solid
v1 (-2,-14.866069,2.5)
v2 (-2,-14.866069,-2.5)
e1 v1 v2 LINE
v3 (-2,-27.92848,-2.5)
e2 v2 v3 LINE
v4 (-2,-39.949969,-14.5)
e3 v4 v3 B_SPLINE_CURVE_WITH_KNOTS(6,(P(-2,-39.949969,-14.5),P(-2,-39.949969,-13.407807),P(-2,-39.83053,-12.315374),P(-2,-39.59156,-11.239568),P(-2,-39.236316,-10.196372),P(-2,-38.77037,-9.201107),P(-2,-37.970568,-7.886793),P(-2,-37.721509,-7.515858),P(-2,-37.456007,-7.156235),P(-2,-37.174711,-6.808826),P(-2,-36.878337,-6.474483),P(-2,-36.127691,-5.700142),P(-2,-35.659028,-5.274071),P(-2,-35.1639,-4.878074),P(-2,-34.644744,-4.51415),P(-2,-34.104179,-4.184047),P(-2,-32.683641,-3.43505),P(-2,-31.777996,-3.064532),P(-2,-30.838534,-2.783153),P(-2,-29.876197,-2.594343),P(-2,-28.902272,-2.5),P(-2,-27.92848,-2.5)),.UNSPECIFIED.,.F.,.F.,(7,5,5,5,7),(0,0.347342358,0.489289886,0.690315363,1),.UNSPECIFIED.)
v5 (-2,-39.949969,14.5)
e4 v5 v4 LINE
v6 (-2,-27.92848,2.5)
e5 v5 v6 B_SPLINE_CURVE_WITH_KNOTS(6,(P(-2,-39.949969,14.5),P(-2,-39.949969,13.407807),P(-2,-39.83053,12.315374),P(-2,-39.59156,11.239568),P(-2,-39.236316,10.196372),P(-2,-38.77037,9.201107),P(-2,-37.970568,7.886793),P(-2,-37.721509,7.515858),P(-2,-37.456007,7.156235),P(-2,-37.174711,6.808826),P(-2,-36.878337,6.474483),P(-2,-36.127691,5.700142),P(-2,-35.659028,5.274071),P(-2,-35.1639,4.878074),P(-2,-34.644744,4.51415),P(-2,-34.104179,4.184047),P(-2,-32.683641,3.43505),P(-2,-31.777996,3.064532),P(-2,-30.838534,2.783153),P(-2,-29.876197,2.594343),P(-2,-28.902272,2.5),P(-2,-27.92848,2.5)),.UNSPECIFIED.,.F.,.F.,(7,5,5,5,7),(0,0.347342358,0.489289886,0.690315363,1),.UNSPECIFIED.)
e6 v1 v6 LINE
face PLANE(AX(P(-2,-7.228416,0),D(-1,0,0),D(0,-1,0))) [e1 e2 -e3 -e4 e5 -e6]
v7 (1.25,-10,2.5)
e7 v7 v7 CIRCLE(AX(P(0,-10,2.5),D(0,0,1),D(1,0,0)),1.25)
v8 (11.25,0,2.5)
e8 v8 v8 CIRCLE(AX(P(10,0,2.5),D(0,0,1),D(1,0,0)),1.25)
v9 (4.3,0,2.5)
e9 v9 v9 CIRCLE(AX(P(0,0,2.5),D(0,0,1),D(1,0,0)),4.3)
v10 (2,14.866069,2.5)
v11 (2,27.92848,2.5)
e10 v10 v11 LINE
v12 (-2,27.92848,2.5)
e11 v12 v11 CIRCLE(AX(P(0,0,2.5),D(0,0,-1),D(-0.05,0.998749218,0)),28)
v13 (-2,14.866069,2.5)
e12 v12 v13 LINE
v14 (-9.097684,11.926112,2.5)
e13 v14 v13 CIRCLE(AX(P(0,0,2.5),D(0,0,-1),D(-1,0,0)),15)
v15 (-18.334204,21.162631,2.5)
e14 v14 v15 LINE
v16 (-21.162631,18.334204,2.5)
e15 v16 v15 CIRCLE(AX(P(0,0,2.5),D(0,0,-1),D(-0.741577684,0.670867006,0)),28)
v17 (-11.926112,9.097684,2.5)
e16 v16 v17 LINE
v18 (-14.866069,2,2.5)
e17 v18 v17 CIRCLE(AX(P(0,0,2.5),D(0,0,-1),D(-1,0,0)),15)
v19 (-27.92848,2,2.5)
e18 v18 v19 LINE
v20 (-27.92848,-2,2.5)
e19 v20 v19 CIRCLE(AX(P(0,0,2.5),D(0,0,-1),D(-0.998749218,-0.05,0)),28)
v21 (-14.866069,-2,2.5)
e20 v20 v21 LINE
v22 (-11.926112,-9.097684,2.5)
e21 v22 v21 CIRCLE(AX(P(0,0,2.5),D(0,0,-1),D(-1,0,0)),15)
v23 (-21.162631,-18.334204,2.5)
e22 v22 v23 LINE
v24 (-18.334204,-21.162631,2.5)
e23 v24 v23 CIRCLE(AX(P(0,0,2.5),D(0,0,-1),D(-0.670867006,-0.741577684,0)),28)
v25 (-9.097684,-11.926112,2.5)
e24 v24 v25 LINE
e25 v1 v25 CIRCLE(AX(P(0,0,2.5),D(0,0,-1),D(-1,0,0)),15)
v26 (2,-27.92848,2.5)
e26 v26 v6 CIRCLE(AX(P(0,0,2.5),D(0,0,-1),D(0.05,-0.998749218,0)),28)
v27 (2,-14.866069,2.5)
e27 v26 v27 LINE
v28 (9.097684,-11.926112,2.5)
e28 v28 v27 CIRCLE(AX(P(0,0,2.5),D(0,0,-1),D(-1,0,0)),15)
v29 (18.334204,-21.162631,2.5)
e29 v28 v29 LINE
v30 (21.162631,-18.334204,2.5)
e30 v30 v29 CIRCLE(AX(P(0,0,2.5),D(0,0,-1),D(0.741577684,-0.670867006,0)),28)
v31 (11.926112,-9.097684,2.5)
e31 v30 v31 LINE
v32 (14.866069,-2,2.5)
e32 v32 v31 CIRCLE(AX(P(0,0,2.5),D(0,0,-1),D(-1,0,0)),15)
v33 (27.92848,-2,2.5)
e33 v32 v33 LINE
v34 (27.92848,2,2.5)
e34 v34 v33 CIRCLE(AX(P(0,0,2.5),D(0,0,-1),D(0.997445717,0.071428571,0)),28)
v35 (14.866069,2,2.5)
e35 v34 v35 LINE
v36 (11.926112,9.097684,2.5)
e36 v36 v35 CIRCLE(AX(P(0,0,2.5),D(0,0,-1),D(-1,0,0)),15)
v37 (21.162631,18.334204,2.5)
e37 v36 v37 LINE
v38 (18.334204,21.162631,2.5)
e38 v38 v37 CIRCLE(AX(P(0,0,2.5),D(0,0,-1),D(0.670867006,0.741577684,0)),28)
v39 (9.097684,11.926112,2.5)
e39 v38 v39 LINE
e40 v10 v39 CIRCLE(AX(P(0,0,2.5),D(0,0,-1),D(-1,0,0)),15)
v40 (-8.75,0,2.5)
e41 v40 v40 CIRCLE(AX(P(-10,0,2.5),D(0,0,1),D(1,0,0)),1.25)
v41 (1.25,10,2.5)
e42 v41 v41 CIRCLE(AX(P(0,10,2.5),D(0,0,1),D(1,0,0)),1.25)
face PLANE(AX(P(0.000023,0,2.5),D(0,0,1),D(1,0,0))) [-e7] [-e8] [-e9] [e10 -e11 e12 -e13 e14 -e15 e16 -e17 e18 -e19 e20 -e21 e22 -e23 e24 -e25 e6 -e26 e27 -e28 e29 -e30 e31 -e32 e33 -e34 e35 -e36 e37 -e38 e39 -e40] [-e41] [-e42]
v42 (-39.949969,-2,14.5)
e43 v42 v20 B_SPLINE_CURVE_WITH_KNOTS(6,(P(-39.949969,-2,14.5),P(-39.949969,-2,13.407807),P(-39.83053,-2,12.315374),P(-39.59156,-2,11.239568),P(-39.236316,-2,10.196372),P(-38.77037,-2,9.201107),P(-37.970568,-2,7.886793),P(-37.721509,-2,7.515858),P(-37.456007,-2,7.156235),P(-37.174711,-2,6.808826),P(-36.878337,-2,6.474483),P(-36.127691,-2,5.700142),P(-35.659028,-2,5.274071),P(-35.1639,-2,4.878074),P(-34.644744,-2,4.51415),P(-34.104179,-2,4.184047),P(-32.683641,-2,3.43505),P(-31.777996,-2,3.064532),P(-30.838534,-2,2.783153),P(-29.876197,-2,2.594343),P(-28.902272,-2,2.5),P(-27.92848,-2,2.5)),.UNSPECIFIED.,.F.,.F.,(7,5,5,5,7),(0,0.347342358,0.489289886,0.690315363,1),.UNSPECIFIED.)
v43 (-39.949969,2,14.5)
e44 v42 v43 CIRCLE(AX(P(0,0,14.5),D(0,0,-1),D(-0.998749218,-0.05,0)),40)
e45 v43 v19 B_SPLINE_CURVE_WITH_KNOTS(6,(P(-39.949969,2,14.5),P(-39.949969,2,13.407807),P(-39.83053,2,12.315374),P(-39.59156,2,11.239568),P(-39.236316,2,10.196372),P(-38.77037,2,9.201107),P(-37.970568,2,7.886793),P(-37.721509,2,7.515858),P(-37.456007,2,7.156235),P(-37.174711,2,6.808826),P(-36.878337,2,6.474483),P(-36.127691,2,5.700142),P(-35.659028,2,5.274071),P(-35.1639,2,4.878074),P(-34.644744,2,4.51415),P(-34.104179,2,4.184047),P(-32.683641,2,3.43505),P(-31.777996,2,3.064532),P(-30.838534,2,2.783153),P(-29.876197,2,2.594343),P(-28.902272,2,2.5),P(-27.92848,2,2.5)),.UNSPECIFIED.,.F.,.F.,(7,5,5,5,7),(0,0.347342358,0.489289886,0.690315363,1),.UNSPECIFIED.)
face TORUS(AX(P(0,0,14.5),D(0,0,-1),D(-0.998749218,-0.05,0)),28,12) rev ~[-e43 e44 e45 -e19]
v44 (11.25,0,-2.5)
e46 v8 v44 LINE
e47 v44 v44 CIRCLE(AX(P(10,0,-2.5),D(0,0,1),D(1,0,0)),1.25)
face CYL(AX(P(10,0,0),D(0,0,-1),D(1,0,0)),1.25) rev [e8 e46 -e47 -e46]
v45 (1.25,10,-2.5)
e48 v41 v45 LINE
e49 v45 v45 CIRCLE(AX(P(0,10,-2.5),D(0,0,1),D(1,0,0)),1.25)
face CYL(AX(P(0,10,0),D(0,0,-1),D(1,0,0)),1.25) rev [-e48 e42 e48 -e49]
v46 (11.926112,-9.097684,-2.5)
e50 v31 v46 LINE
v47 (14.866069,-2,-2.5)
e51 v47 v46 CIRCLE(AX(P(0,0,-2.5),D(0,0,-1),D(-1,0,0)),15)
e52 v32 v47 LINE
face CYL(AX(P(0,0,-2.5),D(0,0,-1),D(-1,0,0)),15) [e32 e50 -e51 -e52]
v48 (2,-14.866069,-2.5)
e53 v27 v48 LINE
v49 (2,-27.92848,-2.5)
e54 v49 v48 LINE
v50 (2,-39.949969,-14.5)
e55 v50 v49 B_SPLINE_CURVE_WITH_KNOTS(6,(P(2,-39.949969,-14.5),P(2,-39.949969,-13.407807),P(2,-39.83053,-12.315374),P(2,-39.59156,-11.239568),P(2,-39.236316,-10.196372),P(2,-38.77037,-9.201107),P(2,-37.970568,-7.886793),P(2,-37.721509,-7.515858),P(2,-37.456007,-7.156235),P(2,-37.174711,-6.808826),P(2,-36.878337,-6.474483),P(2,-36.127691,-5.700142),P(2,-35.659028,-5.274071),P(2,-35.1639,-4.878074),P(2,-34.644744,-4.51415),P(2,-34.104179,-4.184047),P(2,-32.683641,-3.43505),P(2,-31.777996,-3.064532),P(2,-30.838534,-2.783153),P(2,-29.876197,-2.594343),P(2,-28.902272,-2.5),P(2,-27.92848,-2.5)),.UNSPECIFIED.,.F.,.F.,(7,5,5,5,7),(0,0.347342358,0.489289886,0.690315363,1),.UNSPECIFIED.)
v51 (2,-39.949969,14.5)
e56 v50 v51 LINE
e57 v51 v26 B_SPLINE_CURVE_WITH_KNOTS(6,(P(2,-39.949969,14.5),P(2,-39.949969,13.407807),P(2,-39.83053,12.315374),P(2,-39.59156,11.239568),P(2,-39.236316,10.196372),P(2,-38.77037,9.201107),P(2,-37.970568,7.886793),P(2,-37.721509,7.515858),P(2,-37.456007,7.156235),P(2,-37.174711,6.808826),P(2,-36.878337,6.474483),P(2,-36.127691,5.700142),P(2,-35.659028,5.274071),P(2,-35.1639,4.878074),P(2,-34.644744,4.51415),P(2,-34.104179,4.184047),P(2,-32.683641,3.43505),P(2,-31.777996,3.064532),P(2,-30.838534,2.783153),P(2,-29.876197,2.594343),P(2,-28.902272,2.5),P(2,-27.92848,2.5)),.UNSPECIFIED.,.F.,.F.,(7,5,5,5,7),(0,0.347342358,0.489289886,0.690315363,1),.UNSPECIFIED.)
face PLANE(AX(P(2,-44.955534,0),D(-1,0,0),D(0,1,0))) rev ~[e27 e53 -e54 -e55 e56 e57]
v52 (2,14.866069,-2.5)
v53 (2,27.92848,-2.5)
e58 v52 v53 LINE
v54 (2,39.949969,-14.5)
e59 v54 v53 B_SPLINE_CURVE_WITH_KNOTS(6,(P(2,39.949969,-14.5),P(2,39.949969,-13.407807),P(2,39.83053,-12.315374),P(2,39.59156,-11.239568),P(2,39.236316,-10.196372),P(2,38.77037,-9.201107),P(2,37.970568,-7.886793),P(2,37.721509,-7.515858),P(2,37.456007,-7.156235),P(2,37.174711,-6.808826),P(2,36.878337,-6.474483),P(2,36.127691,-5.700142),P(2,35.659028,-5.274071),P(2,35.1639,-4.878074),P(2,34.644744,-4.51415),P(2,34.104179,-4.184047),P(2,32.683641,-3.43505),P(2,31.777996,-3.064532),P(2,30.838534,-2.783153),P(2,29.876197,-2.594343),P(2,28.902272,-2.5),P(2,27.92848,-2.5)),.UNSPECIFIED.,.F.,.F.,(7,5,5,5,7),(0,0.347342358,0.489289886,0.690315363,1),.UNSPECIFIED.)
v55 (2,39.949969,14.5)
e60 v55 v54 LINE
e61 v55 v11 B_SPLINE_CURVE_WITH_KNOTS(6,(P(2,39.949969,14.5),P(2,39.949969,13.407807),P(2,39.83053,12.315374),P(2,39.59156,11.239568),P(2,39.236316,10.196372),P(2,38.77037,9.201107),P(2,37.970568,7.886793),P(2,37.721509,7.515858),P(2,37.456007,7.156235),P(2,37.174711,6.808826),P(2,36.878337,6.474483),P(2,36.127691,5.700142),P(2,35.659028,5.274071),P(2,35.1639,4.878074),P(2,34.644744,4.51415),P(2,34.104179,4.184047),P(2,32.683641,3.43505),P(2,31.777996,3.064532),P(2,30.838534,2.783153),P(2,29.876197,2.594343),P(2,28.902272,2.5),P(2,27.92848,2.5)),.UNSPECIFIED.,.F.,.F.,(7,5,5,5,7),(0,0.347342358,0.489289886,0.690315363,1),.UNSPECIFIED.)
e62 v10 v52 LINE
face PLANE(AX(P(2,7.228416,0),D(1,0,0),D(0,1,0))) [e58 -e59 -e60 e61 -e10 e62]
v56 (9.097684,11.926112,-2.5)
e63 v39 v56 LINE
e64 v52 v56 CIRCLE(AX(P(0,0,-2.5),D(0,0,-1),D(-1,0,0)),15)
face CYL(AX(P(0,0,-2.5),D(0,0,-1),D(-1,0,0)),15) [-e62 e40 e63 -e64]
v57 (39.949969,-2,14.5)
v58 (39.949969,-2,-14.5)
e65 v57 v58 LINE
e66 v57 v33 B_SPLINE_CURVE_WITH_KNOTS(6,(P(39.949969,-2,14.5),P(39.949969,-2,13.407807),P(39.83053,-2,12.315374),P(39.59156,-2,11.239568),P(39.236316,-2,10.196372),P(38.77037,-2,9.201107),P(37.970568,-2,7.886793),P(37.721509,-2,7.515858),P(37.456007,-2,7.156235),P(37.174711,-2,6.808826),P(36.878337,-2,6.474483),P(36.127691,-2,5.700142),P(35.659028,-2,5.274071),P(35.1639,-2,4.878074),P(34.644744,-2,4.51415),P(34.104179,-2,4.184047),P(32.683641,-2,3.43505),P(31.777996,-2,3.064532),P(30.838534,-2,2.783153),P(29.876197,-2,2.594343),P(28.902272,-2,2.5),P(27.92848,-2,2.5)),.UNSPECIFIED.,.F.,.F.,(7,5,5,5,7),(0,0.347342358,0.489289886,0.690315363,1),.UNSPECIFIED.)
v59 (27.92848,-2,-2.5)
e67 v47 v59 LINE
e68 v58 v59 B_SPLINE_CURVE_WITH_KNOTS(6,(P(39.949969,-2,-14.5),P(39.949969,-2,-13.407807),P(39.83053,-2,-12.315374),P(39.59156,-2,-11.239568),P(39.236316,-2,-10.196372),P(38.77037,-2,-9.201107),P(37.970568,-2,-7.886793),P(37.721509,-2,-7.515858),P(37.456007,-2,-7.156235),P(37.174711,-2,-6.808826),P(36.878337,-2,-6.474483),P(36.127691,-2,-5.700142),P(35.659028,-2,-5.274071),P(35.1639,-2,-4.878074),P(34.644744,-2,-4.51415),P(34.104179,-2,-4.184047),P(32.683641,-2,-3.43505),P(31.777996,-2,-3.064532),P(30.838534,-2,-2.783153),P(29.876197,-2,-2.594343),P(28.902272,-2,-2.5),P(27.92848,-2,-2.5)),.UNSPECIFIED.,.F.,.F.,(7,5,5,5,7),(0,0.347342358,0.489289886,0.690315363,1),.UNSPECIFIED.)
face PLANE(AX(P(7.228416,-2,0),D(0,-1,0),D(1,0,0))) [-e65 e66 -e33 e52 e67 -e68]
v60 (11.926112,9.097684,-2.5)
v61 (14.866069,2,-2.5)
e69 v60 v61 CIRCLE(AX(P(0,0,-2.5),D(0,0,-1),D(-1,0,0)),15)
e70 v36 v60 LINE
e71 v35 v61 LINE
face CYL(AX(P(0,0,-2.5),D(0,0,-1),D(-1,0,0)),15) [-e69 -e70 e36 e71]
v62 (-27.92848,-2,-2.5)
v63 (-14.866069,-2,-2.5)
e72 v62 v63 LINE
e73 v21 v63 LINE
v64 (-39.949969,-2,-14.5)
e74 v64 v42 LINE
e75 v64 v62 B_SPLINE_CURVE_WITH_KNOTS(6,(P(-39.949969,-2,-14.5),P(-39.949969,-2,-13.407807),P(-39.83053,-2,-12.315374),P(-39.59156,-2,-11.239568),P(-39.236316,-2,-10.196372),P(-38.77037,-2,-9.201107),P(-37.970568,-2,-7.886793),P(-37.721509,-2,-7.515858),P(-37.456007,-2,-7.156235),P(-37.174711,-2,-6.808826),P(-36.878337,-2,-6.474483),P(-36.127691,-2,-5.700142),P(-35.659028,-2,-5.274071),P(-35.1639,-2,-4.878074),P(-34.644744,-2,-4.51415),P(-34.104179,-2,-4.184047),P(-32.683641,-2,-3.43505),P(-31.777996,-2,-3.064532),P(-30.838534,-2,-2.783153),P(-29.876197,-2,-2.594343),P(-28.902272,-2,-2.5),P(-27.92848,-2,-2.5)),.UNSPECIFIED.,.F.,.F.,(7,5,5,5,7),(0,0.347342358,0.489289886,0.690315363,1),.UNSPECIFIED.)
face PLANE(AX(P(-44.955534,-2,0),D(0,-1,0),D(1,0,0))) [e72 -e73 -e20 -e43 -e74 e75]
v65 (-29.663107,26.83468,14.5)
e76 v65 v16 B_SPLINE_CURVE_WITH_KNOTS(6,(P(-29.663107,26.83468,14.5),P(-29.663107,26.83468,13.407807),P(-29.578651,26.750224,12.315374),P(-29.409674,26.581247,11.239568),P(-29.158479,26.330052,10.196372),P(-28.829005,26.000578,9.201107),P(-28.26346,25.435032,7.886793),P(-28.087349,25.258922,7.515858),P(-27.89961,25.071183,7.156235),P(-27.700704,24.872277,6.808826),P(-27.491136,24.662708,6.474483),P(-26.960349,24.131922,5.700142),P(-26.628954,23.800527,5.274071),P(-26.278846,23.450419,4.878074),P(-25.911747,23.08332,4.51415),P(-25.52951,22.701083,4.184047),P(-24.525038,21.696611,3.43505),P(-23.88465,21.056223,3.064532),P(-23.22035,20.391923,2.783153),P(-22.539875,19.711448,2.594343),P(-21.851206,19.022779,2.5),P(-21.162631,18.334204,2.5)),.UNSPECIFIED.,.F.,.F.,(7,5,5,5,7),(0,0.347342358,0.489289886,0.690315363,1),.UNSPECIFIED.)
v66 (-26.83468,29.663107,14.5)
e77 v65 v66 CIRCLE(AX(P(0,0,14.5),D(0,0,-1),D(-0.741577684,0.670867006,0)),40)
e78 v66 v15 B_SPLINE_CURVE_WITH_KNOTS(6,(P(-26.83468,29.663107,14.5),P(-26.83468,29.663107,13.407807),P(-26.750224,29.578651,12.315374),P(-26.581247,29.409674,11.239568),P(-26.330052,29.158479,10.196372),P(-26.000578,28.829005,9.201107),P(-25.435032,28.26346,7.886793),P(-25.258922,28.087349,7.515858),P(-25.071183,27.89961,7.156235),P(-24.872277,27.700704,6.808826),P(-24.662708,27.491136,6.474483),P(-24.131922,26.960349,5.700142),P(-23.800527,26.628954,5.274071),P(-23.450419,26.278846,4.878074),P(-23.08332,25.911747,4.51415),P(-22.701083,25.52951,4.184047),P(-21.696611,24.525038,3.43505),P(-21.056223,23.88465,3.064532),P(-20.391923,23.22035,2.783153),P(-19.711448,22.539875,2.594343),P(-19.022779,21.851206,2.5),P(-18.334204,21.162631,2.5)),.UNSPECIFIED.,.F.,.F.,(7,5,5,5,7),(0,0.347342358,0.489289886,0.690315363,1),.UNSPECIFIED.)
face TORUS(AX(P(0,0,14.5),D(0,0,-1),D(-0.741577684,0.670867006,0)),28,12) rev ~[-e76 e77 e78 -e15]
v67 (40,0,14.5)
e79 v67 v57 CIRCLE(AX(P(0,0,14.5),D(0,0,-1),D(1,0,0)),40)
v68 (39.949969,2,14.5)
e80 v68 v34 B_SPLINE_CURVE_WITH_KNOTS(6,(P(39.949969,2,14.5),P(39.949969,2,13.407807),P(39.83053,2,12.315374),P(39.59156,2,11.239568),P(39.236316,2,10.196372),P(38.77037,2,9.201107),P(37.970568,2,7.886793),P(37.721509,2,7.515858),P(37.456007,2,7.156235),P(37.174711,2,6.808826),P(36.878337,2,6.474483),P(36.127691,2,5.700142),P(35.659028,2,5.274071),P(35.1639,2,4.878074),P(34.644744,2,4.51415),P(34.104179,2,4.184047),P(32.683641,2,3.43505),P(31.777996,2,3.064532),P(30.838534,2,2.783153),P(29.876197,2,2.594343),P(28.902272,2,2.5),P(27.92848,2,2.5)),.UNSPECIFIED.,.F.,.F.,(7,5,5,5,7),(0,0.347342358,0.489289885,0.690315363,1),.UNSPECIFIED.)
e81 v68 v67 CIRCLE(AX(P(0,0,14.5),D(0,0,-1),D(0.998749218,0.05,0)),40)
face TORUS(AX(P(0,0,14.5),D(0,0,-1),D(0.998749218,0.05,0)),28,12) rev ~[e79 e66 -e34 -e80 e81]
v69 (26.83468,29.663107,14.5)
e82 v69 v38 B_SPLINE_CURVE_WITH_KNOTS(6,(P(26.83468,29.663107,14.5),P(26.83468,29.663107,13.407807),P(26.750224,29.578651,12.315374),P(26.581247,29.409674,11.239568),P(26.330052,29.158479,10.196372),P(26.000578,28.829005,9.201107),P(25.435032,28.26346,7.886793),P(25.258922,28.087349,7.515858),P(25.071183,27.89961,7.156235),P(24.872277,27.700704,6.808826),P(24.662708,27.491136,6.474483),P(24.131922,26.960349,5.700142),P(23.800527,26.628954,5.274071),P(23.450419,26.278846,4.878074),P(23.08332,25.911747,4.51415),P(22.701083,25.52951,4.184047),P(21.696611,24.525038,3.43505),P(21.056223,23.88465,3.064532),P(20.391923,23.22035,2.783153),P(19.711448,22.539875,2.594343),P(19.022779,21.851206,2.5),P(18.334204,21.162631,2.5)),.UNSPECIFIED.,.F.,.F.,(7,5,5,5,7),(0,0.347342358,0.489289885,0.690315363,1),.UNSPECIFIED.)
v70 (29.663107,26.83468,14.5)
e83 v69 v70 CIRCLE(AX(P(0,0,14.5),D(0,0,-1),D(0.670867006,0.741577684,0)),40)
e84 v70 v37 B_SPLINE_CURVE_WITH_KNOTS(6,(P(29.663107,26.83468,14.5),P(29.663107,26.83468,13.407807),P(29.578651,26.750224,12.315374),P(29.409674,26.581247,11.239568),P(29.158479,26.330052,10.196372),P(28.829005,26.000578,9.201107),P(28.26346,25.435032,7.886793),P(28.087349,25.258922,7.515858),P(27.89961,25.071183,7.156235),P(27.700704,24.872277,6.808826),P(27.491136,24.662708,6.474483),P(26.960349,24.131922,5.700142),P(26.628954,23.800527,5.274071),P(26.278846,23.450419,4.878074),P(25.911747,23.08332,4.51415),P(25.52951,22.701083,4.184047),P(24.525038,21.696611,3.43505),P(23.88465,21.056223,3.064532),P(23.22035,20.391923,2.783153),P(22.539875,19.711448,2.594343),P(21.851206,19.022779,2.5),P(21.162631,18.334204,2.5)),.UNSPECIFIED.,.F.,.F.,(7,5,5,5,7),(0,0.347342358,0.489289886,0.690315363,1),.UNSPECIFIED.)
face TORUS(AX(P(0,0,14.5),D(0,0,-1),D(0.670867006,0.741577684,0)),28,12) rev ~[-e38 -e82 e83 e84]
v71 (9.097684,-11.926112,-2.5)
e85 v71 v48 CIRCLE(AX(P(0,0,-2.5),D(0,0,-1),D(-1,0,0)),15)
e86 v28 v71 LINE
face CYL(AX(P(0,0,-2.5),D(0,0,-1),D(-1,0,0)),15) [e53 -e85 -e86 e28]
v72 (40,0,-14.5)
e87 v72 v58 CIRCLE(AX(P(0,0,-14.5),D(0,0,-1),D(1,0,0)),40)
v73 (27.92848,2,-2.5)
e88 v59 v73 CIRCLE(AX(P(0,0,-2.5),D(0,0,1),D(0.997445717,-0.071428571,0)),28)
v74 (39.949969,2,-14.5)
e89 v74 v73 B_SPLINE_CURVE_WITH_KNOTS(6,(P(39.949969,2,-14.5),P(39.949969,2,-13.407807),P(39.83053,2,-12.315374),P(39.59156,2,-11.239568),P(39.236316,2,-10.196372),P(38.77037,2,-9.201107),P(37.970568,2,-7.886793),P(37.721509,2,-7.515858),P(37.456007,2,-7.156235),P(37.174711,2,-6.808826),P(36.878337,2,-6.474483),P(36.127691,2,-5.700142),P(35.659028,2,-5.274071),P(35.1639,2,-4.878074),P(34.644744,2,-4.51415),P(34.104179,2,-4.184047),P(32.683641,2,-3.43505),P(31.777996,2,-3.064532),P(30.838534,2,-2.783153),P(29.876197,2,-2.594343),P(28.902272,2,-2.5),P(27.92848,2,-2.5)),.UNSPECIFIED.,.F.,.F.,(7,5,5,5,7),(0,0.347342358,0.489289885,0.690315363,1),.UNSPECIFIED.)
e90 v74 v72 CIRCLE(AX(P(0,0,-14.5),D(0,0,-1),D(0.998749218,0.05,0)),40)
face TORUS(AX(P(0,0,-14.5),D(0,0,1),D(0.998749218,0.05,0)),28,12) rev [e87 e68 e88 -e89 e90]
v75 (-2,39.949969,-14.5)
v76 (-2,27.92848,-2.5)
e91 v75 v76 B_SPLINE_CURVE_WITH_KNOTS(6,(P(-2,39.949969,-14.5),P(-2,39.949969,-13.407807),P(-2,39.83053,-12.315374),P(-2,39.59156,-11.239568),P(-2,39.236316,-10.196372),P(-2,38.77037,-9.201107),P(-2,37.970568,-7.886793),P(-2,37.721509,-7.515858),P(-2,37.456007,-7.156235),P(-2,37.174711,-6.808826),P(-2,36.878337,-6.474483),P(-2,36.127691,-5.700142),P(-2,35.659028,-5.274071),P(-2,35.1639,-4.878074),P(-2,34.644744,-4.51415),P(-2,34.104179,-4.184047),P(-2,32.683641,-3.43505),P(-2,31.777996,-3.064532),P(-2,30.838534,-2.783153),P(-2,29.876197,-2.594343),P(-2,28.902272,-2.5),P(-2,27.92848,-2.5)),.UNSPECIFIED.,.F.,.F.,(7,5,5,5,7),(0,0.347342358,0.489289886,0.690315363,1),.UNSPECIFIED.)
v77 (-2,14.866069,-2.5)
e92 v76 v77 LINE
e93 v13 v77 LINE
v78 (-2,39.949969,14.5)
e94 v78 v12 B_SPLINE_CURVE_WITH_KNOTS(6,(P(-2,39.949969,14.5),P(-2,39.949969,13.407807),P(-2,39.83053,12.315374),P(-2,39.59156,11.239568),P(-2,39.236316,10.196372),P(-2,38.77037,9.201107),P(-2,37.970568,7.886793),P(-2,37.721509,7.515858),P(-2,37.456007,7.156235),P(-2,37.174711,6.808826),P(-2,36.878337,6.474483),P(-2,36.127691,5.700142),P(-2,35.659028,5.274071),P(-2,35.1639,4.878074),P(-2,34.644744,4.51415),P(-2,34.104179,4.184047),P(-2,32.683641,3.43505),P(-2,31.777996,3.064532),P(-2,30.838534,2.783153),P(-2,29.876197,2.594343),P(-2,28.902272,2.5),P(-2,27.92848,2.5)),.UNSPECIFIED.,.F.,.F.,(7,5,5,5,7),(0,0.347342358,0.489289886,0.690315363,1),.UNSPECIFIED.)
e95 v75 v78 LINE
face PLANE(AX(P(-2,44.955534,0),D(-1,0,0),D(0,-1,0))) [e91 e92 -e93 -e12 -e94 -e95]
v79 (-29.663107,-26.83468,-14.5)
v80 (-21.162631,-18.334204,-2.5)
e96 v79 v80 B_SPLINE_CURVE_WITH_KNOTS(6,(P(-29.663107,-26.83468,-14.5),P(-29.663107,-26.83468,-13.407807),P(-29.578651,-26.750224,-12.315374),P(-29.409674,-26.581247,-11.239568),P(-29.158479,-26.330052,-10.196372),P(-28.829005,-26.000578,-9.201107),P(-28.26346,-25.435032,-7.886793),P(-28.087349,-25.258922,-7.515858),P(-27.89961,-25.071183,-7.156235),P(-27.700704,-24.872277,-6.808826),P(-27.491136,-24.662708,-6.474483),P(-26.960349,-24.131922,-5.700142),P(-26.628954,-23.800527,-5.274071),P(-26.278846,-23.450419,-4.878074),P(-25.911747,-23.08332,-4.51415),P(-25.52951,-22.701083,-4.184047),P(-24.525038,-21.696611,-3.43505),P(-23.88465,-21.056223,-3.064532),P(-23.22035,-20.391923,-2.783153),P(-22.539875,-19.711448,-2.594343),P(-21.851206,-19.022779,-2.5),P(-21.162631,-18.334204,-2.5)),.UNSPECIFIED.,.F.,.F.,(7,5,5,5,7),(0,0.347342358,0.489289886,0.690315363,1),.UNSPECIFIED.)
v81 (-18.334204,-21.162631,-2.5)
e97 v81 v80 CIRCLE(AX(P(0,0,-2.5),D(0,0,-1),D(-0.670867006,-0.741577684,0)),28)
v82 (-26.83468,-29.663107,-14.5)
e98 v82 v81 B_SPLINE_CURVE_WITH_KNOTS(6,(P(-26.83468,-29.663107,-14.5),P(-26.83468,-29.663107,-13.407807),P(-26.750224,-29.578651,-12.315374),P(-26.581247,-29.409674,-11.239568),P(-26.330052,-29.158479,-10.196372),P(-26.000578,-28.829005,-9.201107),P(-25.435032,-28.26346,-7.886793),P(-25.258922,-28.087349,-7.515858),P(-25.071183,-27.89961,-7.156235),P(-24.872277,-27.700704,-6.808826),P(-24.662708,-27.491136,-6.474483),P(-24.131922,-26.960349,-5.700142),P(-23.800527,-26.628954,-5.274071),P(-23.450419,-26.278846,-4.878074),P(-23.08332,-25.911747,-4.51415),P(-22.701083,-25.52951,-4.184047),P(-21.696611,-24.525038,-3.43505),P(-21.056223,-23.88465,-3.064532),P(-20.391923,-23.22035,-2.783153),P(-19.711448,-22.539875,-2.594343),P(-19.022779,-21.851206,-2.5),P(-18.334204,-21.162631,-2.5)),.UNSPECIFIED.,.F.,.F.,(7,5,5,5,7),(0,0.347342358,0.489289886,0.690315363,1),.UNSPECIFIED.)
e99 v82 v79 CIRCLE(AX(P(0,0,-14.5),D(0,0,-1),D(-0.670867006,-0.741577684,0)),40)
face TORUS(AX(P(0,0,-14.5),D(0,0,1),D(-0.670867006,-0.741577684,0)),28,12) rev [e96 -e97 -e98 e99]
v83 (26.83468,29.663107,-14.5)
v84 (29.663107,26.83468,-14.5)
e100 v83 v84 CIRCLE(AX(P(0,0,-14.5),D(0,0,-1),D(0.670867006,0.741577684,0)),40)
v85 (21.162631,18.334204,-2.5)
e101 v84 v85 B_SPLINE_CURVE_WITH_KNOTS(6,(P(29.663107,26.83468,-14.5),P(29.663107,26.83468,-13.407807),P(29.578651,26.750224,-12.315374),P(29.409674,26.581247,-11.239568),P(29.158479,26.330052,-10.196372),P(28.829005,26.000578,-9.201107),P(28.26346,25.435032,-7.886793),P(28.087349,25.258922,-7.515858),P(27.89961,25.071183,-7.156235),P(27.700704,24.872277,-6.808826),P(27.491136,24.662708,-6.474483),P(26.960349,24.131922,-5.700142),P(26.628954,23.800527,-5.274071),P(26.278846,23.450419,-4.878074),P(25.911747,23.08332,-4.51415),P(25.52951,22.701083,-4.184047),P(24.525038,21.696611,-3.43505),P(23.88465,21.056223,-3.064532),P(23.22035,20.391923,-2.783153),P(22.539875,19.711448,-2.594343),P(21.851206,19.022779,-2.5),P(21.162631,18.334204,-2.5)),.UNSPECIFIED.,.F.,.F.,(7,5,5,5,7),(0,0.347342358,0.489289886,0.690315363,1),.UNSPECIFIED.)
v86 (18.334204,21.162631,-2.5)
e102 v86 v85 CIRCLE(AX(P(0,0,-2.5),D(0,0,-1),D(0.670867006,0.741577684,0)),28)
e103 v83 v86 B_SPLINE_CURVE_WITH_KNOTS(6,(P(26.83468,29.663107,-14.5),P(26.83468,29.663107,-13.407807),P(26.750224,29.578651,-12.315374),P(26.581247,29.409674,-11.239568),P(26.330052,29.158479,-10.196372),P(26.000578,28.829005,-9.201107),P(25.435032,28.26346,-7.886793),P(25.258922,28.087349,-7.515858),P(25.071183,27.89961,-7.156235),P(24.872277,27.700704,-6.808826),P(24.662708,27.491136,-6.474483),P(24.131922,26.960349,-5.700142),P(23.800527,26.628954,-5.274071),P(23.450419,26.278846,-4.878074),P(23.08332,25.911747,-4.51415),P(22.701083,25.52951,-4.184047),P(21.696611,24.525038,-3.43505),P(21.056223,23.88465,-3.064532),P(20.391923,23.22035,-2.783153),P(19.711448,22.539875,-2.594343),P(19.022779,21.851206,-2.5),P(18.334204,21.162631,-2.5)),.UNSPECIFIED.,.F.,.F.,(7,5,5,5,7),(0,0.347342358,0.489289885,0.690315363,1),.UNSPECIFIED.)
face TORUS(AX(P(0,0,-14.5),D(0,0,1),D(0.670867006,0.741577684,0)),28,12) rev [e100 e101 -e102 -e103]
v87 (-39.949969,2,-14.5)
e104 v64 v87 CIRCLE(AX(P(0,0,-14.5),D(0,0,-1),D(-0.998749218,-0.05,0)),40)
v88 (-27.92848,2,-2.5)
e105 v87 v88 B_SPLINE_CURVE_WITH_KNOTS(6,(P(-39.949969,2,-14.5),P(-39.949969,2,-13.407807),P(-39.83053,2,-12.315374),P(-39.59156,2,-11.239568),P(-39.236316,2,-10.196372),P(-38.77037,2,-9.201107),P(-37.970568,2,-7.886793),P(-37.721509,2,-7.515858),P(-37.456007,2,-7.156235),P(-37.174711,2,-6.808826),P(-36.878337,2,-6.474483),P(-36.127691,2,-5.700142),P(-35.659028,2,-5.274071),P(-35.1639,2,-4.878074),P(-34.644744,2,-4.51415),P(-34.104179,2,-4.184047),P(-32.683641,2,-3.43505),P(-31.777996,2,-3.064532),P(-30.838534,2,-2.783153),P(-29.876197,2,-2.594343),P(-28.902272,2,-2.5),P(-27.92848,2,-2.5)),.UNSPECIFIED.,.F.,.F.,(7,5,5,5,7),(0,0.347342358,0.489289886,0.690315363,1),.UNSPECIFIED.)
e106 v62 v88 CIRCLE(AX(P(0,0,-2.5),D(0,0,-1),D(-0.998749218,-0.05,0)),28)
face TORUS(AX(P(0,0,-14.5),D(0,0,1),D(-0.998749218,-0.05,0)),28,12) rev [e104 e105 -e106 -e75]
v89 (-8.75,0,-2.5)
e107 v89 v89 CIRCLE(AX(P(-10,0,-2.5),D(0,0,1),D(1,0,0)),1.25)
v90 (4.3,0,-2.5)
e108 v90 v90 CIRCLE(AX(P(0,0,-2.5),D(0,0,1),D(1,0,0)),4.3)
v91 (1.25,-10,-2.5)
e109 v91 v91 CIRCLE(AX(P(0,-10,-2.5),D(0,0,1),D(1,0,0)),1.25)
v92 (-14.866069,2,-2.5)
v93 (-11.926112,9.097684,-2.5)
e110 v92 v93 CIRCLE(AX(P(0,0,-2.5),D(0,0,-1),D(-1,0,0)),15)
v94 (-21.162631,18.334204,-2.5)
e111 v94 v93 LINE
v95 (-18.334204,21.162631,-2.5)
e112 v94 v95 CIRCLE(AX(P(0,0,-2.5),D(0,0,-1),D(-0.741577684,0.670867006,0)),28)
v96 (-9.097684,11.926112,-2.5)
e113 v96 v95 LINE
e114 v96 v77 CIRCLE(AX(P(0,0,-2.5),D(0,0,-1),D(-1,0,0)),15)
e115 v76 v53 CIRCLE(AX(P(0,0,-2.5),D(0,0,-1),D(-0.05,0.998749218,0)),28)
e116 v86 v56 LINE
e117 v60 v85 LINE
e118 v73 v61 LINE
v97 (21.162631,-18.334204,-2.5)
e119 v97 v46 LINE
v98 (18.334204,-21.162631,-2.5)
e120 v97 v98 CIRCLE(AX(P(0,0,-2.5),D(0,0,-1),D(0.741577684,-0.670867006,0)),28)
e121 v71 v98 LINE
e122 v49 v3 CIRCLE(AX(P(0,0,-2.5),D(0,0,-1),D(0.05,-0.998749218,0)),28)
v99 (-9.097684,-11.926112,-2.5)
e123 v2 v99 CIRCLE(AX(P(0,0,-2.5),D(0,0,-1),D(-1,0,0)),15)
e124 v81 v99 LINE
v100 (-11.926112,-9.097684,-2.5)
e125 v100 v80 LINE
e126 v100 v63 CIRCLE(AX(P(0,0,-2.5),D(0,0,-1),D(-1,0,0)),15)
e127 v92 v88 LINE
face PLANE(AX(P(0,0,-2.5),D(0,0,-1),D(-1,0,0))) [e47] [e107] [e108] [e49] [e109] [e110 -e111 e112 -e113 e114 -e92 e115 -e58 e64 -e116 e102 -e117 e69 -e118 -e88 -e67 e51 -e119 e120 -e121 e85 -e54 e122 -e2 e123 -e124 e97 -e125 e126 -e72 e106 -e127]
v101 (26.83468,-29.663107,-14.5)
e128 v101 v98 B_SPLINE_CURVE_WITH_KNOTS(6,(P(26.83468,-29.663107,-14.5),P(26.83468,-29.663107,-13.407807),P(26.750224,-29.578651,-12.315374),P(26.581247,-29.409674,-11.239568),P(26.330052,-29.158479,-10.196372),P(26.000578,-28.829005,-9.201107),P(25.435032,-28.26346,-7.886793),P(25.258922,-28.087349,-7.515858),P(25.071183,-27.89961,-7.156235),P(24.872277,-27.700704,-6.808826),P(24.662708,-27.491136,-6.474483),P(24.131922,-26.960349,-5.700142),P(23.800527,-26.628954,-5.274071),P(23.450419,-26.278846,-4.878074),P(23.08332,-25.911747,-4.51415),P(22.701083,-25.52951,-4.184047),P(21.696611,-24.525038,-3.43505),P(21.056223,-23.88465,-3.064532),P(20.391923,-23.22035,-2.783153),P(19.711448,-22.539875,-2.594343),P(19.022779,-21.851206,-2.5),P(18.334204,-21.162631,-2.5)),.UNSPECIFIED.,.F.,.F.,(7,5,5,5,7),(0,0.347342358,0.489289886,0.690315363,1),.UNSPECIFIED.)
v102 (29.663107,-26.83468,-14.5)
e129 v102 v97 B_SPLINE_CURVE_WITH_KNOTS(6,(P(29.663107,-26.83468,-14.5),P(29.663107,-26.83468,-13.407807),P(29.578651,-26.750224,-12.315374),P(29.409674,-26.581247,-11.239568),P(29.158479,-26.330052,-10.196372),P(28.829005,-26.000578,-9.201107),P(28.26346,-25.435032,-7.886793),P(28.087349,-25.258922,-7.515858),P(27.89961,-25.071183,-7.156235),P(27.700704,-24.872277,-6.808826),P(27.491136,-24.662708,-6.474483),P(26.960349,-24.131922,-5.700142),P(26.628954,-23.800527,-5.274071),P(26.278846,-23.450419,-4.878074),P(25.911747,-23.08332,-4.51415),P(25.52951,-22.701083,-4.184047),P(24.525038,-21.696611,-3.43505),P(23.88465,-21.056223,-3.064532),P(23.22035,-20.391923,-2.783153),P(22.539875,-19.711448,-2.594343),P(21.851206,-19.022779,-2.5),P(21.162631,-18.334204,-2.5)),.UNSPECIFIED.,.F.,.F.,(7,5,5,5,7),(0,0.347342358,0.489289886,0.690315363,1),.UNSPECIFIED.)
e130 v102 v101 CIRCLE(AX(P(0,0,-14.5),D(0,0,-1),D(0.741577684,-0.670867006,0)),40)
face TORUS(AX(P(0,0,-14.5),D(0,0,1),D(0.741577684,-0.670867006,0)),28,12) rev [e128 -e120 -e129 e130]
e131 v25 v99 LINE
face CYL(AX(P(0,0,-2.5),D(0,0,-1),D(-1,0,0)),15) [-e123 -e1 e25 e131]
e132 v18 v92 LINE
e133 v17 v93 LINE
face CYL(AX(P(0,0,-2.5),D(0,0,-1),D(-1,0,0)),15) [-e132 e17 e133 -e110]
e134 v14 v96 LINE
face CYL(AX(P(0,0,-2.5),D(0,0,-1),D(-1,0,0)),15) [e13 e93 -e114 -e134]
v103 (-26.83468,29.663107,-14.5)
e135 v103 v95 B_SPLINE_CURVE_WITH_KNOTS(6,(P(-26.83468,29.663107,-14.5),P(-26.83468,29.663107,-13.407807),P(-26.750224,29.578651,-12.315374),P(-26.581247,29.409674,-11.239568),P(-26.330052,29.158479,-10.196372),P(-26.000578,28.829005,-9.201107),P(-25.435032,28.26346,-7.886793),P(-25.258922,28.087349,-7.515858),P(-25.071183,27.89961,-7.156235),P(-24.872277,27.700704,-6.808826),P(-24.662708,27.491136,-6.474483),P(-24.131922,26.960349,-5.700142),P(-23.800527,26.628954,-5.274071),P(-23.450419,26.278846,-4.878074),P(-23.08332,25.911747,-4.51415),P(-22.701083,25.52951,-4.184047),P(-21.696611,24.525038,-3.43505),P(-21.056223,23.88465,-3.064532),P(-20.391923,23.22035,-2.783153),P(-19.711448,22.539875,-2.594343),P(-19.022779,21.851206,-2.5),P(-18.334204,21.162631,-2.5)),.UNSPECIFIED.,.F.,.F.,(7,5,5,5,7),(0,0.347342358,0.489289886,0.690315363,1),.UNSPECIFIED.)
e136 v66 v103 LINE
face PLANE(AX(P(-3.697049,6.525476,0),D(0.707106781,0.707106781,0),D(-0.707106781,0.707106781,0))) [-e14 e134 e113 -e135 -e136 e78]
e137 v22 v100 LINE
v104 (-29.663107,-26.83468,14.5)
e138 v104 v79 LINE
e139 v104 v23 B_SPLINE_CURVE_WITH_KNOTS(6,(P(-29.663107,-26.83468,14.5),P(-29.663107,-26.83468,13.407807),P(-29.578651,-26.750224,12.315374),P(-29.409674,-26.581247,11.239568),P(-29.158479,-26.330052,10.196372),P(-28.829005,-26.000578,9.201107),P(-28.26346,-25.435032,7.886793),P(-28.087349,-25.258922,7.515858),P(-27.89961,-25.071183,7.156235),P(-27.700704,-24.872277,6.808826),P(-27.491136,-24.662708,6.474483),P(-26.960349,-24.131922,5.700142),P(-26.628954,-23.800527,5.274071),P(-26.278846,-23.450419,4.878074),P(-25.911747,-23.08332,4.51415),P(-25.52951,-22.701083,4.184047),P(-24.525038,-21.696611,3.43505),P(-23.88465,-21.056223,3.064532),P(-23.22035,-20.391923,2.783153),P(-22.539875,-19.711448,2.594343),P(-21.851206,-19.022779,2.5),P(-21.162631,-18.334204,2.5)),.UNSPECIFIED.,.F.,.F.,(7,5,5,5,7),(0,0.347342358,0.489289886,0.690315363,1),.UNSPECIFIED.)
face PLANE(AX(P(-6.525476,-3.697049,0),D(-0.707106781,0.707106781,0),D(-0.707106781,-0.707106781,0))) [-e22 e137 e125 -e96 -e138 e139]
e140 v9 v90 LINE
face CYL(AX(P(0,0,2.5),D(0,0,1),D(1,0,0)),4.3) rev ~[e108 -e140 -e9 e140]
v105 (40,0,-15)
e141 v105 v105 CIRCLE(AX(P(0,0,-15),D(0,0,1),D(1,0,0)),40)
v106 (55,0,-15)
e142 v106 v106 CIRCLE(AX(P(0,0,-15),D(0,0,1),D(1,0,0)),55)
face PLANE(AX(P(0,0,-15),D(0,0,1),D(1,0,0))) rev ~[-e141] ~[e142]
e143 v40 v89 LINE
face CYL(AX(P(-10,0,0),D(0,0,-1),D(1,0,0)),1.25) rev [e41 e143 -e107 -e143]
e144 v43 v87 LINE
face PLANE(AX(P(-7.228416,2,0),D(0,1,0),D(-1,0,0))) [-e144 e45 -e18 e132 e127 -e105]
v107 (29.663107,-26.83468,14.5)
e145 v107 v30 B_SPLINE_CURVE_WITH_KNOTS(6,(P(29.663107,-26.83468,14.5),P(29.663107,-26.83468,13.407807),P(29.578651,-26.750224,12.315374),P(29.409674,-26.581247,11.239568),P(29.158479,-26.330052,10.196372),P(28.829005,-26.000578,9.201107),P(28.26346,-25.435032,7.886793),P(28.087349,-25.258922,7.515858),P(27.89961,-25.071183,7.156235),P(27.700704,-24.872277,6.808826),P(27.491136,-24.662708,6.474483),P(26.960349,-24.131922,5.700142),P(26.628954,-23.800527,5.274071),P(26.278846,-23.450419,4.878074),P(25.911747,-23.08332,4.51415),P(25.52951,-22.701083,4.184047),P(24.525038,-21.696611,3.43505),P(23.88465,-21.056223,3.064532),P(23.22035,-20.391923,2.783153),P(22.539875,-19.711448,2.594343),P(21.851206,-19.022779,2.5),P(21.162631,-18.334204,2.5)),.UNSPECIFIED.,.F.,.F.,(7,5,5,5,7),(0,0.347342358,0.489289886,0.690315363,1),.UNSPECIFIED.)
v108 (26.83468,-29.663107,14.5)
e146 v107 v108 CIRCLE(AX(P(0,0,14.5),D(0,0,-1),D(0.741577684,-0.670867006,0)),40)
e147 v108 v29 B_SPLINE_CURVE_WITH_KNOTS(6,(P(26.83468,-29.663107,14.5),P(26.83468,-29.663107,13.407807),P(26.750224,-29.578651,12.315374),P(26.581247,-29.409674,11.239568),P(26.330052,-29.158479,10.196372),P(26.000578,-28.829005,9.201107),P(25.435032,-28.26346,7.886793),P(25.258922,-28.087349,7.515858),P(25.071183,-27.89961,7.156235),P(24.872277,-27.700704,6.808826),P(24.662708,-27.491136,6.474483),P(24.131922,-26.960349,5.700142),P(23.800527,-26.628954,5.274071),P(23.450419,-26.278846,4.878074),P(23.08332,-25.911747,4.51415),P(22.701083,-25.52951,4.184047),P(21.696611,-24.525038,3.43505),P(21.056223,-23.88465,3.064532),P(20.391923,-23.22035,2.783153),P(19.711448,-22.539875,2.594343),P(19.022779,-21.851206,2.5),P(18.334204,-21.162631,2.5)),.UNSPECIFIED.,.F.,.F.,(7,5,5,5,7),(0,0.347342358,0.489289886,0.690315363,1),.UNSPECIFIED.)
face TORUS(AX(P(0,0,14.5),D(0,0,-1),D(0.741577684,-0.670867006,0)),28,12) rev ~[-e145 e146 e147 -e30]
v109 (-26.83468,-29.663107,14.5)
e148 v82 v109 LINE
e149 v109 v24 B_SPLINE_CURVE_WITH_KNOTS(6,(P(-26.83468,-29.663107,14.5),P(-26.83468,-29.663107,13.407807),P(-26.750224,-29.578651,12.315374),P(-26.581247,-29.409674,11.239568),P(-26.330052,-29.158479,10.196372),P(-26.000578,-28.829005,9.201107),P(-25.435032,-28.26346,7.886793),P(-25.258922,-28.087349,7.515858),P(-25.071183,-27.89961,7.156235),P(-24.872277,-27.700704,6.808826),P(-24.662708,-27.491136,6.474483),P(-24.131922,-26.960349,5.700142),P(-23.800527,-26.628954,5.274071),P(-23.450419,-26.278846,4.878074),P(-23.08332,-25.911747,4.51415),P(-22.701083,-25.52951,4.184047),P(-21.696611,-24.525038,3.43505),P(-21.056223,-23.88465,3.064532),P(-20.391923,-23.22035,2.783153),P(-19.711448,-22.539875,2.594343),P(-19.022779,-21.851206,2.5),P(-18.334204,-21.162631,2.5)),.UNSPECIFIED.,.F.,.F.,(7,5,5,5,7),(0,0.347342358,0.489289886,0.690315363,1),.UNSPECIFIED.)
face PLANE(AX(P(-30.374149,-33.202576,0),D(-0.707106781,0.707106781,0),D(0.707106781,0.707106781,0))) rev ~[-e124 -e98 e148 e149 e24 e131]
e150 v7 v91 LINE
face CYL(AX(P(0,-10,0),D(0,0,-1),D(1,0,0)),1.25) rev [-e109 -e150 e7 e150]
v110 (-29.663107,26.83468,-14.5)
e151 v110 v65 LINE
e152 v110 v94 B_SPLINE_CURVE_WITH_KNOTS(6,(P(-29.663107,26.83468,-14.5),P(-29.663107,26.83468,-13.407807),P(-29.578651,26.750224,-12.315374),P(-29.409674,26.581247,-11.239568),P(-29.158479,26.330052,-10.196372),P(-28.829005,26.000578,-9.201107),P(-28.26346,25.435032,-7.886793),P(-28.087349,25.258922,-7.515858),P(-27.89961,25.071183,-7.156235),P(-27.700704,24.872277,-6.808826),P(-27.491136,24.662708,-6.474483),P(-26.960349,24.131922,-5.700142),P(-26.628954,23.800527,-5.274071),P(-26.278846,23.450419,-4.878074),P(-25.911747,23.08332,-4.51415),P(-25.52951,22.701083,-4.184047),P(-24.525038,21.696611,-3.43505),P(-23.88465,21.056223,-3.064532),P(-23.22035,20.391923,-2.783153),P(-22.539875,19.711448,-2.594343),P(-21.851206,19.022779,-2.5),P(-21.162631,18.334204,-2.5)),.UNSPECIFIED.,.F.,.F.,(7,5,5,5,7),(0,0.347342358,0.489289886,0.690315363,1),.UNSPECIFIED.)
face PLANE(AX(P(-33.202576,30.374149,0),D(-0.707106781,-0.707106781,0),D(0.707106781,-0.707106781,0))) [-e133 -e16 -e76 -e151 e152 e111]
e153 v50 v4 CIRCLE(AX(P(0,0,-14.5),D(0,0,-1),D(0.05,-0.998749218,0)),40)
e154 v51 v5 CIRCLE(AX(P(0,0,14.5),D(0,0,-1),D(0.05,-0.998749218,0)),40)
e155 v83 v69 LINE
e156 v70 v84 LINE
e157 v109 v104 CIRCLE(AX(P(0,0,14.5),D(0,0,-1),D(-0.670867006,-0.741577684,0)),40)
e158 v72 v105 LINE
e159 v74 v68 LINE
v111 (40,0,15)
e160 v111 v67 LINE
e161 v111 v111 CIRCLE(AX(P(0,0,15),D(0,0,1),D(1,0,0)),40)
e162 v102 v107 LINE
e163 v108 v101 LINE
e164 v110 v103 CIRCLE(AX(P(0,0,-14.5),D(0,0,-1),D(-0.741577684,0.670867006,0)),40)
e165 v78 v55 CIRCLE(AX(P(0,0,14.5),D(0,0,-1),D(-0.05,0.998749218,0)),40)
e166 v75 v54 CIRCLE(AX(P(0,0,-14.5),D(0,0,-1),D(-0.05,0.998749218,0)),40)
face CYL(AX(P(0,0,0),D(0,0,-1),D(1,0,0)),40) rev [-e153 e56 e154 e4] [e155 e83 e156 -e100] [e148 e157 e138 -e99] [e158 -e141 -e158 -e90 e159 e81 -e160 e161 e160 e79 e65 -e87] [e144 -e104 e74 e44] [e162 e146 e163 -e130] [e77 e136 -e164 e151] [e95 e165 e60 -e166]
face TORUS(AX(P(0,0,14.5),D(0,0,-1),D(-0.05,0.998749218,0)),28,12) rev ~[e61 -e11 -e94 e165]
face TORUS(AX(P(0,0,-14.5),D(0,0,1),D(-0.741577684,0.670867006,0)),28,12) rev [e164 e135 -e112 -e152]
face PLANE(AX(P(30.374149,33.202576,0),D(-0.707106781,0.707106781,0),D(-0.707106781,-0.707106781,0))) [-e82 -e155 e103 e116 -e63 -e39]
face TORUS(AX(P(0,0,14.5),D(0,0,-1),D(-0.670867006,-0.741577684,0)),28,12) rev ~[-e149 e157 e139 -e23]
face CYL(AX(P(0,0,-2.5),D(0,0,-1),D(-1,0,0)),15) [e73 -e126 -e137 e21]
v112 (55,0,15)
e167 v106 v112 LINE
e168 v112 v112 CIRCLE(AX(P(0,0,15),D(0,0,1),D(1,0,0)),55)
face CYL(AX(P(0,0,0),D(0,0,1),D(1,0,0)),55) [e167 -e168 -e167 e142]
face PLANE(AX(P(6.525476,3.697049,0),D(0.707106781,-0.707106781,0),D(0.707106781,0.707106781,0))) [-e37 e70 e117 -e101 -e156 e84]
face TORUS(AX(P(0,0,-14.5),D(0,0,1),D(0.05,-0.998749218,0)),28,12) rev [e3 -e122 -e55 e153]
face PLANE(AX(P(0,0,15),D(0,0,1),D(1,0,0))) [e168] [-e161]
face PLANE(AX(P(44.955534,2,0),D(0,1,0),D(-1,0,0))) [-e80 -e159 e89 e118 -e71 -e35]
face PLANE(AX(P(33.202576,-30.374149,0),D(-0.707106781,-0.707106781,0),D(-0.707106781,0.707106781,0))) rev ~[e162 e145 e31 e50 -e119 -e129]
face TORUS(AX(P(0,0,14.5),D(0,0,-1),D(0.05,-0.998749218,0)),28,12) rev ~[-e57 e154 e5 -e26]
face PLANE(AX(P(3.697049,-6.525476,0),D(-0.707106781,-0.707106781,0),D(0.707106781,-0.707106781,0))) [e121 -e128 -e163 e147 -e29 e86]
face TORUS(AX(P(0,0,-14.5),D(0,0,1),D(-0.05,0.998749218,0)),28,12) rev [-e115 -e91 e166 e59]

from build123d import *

# Parameters (mm, degrees)
CROQUIS1_R              = 1.25
SALIENTE_EXTRUIR1_DEPTH = 2.5
CROQUIS2_R              = 55
CROQUIS2_R_2            = 40
SALIENTE_EXTRUIR3_DEPTH = 15
REDONDEO1_R             = 12
CROQUIS3_R              = 15
CROQUIS3_R_2            = 1.35
SALIENTE_EXTRUIR5_DEPTH = 5
CROQUIS4_R              = 4.3
CORTAR_EXTRUIR1_DEPTH   = 5


with BuildPart() as part:
    # Croquis1 → Saliente-Extruir1 (new body, symmetric)
    with BuildSketch(Plane.XY):
        with BuildLine():
            Line((-2, 44.955533586), (-2, 7.228416147))
            ThreePointArc((-2, 7.228416147), (-2.870125743, 6.929096494), (-3.697048513, 6.525475637))
            Line((-3.697048513, 6.525475637), (-30.374149088, 33.202576213))
            ThreePointArc((-30.374149088, 33.202576213), (-31.819805153, 31.819805153), (-33.202576213, 30.374149088))
            Line((-33.202576213, 30.374149088), (-6.525475637, 3.697048513))
            ThreePointArc((-6.525475637, 3.697048513), (-6.929096494, 2.870125743), (-7.228416147, 2))
            Line((-7.228416147, 2), (-44.955533586, 2))
            ThreePointArc((-44.955533586, 2), (-45, 0), (-44.955533586, -2))
            Line((-44.955533586, -2), (-7.228416147, -2))
            ThreePointArc((-7.228416147, -2), (-6.929096494, -2.870125743), (-6.525475637, -3.697048513))
            Line((-6.525475637, -3.697048513), (-33.202576213, -30.374149088))
            ThreePointArc((-33.202576213, -30.374149088), (-31.819805153, -31.819805153), (-30.374149088, -33.202576213))
            Line((-30.374149088, -33.202576213), (-3.697048513, -6.525475637))
            ThreePointArc((-3.697048513, -6.525475637), (-2.870125743, -6.929096494), (-2, -7.228416147))
            Line((-2, -7.228416147), (-2, -44.955533586))
            ThreePointArc((-2, -44.955533586), (0, -45), (2, -44.955533586))
            Line((2, -44.955533586), (2, -7.228416147))
            ThreePointArc((2, -7.228416147), (2.870125743, -6.929096494), (3.697048513, -6.525475637))
            Line((3.697048513, -6.525475637), (30.374149088, -33.202576213))
            ThreePointArc((30.374149088, -33.202576213), (31.819805153, -31.819805153), (33.202576213, -30.374149088))
            Line((33.202576213, -30.374149088), (6.525475637, -3.697048513))
            ThreePointArc((6.525475637, -3.697048513), (6.929096494, -2.870125743), (7.228416147, -2))
            Line((7.228416147, -2), (44.955533586, -2))
            ThreePointArc((44.955533586, -2), (44.988882023, -1.000247127), (45, 0))
            ThreePointArc((45, 0), (44.988882023, 1.000247127), (44.955533586, 2))
            Line((44.955533586, 2), (7.228416147, 2))
            ThreePointArc((7.228416147, 2), (6.929096494, 2.870125743), (6.525475637, 3.697048513))
            Line((6.525475637, 3.697048513), (33.202576213, 30.374149088))
            ThreePointArc((33.202576213, 30.374149088), (31.819805153, 31.819805153), (30.374149088, 33.202576213))
            Line((30.374149088, 33.202576213), (3.697048513, 6.525475637))
            ThreePointArc((3.697048513, 6.525475637), (2.870125743, 6.929096494), (2, 7.228416147))
            Line((2, 7.228416147), (2, 44.955533586))
            ThreePointArc((2, 44.955533586), (0, 45), (-2, 44.955533586))
        make_face()
        with Locations((0, -10)):
            Circle(CROQUIS1_R, mode=Mode.SUBTRACT)
        with Locations((-10, 0)):
            Circle(CROQUIS1_R, mode=Mode.SUBTRACT)
        with Locations((10, 0)):
            Circle(CROQUIS1_R, mode=Mode.SUBTRACT)
        with Locations((0, 10)):
            Circle(CROQUIS1_R, mode=Mode.SUBTRACT)
    extrude(amount=SALIENTE_EXTRUIR1_DEPTH, both=True)

    # Croquis2 → Saliente-Extruir3 (add, symmetric)
    with BuildSketch(Plane.XY):
        Circle(CROQUIS2_R)
        Circle(CROQUIS2_R_2, mode=Mode.SUBTRACT)
    extrude(amount=SALIENTE_EXTRUIR3_DEPTH, both=True)

    # Redondeo1
    redondeo1_edges = [part.edges().sort_by_distance(p)[0] for p in [
        (39.987490222, 1.000312842, -2.5),
        (28.284271247, 28.284271247, -2.5),
        (0, 40, -2.5),
        (-28.284271247, 28.284271247, -2.5),
        (-40, 0, -2.5),
        (-28.284271247, -28.284271247, -2.5),
        (0, -40, -2.5),
        (28.284271247, -28.284271247, -2.5),
        (28.284271247, -28.284271247, 2.5),
        (0, -40, 2.5),
        (-28.284271247, -28.284271247, 2.5),
        (-40, 0, 2.5),
        (-28.284271247, 28.284271247, 2.5),
        (0, 40, 2.5),
        (28.284271247, 28.284271247, 2.5),
        (39.987490222, 1.000312842, 2.5),
    ]]
    fillet(redondeo1_edges, radius=REDONDEO1_R)

    # Croquis3 → Saliente-Extruir5 (add)
    with BuildSketch(Plane(origin=(0, 0, -2.5), x_dir=(-1, 0, 0), z_dir=(0, 0, -1))):
        Circle(CROQUIS3_R)
        with Locations((0, 10)):
            Circle(CROQUIS3_R_2, mode=Mode.SUBTRACT)
        with Locations((10, 0)):
            Circle(CROQUIS3_R_2, mode=Mode.SUBTRACT)
        with Locations((0, -10)):
            Circle(CROQUIS3_R_2, mode=Mode.SUBTRACT)
        with Locations((-10, 0)):
            Circle(CROQUIS3_R_2, mode=Mode.SUBTRACT)
    extrude(amount=-SALIENTE_EXTRUIR5_DEPTH)

    # Croquis4 → Cortar-Extruir1 (cut)
    with BuildSketch(Plane.XY.offset(2.5)):
        Circle(CROQUIS4_R)
    extrude(amount=-CORTAR_EXTRUIR1_DEPTH, mode=Mode.SUBTRACT)


solid = part.part
